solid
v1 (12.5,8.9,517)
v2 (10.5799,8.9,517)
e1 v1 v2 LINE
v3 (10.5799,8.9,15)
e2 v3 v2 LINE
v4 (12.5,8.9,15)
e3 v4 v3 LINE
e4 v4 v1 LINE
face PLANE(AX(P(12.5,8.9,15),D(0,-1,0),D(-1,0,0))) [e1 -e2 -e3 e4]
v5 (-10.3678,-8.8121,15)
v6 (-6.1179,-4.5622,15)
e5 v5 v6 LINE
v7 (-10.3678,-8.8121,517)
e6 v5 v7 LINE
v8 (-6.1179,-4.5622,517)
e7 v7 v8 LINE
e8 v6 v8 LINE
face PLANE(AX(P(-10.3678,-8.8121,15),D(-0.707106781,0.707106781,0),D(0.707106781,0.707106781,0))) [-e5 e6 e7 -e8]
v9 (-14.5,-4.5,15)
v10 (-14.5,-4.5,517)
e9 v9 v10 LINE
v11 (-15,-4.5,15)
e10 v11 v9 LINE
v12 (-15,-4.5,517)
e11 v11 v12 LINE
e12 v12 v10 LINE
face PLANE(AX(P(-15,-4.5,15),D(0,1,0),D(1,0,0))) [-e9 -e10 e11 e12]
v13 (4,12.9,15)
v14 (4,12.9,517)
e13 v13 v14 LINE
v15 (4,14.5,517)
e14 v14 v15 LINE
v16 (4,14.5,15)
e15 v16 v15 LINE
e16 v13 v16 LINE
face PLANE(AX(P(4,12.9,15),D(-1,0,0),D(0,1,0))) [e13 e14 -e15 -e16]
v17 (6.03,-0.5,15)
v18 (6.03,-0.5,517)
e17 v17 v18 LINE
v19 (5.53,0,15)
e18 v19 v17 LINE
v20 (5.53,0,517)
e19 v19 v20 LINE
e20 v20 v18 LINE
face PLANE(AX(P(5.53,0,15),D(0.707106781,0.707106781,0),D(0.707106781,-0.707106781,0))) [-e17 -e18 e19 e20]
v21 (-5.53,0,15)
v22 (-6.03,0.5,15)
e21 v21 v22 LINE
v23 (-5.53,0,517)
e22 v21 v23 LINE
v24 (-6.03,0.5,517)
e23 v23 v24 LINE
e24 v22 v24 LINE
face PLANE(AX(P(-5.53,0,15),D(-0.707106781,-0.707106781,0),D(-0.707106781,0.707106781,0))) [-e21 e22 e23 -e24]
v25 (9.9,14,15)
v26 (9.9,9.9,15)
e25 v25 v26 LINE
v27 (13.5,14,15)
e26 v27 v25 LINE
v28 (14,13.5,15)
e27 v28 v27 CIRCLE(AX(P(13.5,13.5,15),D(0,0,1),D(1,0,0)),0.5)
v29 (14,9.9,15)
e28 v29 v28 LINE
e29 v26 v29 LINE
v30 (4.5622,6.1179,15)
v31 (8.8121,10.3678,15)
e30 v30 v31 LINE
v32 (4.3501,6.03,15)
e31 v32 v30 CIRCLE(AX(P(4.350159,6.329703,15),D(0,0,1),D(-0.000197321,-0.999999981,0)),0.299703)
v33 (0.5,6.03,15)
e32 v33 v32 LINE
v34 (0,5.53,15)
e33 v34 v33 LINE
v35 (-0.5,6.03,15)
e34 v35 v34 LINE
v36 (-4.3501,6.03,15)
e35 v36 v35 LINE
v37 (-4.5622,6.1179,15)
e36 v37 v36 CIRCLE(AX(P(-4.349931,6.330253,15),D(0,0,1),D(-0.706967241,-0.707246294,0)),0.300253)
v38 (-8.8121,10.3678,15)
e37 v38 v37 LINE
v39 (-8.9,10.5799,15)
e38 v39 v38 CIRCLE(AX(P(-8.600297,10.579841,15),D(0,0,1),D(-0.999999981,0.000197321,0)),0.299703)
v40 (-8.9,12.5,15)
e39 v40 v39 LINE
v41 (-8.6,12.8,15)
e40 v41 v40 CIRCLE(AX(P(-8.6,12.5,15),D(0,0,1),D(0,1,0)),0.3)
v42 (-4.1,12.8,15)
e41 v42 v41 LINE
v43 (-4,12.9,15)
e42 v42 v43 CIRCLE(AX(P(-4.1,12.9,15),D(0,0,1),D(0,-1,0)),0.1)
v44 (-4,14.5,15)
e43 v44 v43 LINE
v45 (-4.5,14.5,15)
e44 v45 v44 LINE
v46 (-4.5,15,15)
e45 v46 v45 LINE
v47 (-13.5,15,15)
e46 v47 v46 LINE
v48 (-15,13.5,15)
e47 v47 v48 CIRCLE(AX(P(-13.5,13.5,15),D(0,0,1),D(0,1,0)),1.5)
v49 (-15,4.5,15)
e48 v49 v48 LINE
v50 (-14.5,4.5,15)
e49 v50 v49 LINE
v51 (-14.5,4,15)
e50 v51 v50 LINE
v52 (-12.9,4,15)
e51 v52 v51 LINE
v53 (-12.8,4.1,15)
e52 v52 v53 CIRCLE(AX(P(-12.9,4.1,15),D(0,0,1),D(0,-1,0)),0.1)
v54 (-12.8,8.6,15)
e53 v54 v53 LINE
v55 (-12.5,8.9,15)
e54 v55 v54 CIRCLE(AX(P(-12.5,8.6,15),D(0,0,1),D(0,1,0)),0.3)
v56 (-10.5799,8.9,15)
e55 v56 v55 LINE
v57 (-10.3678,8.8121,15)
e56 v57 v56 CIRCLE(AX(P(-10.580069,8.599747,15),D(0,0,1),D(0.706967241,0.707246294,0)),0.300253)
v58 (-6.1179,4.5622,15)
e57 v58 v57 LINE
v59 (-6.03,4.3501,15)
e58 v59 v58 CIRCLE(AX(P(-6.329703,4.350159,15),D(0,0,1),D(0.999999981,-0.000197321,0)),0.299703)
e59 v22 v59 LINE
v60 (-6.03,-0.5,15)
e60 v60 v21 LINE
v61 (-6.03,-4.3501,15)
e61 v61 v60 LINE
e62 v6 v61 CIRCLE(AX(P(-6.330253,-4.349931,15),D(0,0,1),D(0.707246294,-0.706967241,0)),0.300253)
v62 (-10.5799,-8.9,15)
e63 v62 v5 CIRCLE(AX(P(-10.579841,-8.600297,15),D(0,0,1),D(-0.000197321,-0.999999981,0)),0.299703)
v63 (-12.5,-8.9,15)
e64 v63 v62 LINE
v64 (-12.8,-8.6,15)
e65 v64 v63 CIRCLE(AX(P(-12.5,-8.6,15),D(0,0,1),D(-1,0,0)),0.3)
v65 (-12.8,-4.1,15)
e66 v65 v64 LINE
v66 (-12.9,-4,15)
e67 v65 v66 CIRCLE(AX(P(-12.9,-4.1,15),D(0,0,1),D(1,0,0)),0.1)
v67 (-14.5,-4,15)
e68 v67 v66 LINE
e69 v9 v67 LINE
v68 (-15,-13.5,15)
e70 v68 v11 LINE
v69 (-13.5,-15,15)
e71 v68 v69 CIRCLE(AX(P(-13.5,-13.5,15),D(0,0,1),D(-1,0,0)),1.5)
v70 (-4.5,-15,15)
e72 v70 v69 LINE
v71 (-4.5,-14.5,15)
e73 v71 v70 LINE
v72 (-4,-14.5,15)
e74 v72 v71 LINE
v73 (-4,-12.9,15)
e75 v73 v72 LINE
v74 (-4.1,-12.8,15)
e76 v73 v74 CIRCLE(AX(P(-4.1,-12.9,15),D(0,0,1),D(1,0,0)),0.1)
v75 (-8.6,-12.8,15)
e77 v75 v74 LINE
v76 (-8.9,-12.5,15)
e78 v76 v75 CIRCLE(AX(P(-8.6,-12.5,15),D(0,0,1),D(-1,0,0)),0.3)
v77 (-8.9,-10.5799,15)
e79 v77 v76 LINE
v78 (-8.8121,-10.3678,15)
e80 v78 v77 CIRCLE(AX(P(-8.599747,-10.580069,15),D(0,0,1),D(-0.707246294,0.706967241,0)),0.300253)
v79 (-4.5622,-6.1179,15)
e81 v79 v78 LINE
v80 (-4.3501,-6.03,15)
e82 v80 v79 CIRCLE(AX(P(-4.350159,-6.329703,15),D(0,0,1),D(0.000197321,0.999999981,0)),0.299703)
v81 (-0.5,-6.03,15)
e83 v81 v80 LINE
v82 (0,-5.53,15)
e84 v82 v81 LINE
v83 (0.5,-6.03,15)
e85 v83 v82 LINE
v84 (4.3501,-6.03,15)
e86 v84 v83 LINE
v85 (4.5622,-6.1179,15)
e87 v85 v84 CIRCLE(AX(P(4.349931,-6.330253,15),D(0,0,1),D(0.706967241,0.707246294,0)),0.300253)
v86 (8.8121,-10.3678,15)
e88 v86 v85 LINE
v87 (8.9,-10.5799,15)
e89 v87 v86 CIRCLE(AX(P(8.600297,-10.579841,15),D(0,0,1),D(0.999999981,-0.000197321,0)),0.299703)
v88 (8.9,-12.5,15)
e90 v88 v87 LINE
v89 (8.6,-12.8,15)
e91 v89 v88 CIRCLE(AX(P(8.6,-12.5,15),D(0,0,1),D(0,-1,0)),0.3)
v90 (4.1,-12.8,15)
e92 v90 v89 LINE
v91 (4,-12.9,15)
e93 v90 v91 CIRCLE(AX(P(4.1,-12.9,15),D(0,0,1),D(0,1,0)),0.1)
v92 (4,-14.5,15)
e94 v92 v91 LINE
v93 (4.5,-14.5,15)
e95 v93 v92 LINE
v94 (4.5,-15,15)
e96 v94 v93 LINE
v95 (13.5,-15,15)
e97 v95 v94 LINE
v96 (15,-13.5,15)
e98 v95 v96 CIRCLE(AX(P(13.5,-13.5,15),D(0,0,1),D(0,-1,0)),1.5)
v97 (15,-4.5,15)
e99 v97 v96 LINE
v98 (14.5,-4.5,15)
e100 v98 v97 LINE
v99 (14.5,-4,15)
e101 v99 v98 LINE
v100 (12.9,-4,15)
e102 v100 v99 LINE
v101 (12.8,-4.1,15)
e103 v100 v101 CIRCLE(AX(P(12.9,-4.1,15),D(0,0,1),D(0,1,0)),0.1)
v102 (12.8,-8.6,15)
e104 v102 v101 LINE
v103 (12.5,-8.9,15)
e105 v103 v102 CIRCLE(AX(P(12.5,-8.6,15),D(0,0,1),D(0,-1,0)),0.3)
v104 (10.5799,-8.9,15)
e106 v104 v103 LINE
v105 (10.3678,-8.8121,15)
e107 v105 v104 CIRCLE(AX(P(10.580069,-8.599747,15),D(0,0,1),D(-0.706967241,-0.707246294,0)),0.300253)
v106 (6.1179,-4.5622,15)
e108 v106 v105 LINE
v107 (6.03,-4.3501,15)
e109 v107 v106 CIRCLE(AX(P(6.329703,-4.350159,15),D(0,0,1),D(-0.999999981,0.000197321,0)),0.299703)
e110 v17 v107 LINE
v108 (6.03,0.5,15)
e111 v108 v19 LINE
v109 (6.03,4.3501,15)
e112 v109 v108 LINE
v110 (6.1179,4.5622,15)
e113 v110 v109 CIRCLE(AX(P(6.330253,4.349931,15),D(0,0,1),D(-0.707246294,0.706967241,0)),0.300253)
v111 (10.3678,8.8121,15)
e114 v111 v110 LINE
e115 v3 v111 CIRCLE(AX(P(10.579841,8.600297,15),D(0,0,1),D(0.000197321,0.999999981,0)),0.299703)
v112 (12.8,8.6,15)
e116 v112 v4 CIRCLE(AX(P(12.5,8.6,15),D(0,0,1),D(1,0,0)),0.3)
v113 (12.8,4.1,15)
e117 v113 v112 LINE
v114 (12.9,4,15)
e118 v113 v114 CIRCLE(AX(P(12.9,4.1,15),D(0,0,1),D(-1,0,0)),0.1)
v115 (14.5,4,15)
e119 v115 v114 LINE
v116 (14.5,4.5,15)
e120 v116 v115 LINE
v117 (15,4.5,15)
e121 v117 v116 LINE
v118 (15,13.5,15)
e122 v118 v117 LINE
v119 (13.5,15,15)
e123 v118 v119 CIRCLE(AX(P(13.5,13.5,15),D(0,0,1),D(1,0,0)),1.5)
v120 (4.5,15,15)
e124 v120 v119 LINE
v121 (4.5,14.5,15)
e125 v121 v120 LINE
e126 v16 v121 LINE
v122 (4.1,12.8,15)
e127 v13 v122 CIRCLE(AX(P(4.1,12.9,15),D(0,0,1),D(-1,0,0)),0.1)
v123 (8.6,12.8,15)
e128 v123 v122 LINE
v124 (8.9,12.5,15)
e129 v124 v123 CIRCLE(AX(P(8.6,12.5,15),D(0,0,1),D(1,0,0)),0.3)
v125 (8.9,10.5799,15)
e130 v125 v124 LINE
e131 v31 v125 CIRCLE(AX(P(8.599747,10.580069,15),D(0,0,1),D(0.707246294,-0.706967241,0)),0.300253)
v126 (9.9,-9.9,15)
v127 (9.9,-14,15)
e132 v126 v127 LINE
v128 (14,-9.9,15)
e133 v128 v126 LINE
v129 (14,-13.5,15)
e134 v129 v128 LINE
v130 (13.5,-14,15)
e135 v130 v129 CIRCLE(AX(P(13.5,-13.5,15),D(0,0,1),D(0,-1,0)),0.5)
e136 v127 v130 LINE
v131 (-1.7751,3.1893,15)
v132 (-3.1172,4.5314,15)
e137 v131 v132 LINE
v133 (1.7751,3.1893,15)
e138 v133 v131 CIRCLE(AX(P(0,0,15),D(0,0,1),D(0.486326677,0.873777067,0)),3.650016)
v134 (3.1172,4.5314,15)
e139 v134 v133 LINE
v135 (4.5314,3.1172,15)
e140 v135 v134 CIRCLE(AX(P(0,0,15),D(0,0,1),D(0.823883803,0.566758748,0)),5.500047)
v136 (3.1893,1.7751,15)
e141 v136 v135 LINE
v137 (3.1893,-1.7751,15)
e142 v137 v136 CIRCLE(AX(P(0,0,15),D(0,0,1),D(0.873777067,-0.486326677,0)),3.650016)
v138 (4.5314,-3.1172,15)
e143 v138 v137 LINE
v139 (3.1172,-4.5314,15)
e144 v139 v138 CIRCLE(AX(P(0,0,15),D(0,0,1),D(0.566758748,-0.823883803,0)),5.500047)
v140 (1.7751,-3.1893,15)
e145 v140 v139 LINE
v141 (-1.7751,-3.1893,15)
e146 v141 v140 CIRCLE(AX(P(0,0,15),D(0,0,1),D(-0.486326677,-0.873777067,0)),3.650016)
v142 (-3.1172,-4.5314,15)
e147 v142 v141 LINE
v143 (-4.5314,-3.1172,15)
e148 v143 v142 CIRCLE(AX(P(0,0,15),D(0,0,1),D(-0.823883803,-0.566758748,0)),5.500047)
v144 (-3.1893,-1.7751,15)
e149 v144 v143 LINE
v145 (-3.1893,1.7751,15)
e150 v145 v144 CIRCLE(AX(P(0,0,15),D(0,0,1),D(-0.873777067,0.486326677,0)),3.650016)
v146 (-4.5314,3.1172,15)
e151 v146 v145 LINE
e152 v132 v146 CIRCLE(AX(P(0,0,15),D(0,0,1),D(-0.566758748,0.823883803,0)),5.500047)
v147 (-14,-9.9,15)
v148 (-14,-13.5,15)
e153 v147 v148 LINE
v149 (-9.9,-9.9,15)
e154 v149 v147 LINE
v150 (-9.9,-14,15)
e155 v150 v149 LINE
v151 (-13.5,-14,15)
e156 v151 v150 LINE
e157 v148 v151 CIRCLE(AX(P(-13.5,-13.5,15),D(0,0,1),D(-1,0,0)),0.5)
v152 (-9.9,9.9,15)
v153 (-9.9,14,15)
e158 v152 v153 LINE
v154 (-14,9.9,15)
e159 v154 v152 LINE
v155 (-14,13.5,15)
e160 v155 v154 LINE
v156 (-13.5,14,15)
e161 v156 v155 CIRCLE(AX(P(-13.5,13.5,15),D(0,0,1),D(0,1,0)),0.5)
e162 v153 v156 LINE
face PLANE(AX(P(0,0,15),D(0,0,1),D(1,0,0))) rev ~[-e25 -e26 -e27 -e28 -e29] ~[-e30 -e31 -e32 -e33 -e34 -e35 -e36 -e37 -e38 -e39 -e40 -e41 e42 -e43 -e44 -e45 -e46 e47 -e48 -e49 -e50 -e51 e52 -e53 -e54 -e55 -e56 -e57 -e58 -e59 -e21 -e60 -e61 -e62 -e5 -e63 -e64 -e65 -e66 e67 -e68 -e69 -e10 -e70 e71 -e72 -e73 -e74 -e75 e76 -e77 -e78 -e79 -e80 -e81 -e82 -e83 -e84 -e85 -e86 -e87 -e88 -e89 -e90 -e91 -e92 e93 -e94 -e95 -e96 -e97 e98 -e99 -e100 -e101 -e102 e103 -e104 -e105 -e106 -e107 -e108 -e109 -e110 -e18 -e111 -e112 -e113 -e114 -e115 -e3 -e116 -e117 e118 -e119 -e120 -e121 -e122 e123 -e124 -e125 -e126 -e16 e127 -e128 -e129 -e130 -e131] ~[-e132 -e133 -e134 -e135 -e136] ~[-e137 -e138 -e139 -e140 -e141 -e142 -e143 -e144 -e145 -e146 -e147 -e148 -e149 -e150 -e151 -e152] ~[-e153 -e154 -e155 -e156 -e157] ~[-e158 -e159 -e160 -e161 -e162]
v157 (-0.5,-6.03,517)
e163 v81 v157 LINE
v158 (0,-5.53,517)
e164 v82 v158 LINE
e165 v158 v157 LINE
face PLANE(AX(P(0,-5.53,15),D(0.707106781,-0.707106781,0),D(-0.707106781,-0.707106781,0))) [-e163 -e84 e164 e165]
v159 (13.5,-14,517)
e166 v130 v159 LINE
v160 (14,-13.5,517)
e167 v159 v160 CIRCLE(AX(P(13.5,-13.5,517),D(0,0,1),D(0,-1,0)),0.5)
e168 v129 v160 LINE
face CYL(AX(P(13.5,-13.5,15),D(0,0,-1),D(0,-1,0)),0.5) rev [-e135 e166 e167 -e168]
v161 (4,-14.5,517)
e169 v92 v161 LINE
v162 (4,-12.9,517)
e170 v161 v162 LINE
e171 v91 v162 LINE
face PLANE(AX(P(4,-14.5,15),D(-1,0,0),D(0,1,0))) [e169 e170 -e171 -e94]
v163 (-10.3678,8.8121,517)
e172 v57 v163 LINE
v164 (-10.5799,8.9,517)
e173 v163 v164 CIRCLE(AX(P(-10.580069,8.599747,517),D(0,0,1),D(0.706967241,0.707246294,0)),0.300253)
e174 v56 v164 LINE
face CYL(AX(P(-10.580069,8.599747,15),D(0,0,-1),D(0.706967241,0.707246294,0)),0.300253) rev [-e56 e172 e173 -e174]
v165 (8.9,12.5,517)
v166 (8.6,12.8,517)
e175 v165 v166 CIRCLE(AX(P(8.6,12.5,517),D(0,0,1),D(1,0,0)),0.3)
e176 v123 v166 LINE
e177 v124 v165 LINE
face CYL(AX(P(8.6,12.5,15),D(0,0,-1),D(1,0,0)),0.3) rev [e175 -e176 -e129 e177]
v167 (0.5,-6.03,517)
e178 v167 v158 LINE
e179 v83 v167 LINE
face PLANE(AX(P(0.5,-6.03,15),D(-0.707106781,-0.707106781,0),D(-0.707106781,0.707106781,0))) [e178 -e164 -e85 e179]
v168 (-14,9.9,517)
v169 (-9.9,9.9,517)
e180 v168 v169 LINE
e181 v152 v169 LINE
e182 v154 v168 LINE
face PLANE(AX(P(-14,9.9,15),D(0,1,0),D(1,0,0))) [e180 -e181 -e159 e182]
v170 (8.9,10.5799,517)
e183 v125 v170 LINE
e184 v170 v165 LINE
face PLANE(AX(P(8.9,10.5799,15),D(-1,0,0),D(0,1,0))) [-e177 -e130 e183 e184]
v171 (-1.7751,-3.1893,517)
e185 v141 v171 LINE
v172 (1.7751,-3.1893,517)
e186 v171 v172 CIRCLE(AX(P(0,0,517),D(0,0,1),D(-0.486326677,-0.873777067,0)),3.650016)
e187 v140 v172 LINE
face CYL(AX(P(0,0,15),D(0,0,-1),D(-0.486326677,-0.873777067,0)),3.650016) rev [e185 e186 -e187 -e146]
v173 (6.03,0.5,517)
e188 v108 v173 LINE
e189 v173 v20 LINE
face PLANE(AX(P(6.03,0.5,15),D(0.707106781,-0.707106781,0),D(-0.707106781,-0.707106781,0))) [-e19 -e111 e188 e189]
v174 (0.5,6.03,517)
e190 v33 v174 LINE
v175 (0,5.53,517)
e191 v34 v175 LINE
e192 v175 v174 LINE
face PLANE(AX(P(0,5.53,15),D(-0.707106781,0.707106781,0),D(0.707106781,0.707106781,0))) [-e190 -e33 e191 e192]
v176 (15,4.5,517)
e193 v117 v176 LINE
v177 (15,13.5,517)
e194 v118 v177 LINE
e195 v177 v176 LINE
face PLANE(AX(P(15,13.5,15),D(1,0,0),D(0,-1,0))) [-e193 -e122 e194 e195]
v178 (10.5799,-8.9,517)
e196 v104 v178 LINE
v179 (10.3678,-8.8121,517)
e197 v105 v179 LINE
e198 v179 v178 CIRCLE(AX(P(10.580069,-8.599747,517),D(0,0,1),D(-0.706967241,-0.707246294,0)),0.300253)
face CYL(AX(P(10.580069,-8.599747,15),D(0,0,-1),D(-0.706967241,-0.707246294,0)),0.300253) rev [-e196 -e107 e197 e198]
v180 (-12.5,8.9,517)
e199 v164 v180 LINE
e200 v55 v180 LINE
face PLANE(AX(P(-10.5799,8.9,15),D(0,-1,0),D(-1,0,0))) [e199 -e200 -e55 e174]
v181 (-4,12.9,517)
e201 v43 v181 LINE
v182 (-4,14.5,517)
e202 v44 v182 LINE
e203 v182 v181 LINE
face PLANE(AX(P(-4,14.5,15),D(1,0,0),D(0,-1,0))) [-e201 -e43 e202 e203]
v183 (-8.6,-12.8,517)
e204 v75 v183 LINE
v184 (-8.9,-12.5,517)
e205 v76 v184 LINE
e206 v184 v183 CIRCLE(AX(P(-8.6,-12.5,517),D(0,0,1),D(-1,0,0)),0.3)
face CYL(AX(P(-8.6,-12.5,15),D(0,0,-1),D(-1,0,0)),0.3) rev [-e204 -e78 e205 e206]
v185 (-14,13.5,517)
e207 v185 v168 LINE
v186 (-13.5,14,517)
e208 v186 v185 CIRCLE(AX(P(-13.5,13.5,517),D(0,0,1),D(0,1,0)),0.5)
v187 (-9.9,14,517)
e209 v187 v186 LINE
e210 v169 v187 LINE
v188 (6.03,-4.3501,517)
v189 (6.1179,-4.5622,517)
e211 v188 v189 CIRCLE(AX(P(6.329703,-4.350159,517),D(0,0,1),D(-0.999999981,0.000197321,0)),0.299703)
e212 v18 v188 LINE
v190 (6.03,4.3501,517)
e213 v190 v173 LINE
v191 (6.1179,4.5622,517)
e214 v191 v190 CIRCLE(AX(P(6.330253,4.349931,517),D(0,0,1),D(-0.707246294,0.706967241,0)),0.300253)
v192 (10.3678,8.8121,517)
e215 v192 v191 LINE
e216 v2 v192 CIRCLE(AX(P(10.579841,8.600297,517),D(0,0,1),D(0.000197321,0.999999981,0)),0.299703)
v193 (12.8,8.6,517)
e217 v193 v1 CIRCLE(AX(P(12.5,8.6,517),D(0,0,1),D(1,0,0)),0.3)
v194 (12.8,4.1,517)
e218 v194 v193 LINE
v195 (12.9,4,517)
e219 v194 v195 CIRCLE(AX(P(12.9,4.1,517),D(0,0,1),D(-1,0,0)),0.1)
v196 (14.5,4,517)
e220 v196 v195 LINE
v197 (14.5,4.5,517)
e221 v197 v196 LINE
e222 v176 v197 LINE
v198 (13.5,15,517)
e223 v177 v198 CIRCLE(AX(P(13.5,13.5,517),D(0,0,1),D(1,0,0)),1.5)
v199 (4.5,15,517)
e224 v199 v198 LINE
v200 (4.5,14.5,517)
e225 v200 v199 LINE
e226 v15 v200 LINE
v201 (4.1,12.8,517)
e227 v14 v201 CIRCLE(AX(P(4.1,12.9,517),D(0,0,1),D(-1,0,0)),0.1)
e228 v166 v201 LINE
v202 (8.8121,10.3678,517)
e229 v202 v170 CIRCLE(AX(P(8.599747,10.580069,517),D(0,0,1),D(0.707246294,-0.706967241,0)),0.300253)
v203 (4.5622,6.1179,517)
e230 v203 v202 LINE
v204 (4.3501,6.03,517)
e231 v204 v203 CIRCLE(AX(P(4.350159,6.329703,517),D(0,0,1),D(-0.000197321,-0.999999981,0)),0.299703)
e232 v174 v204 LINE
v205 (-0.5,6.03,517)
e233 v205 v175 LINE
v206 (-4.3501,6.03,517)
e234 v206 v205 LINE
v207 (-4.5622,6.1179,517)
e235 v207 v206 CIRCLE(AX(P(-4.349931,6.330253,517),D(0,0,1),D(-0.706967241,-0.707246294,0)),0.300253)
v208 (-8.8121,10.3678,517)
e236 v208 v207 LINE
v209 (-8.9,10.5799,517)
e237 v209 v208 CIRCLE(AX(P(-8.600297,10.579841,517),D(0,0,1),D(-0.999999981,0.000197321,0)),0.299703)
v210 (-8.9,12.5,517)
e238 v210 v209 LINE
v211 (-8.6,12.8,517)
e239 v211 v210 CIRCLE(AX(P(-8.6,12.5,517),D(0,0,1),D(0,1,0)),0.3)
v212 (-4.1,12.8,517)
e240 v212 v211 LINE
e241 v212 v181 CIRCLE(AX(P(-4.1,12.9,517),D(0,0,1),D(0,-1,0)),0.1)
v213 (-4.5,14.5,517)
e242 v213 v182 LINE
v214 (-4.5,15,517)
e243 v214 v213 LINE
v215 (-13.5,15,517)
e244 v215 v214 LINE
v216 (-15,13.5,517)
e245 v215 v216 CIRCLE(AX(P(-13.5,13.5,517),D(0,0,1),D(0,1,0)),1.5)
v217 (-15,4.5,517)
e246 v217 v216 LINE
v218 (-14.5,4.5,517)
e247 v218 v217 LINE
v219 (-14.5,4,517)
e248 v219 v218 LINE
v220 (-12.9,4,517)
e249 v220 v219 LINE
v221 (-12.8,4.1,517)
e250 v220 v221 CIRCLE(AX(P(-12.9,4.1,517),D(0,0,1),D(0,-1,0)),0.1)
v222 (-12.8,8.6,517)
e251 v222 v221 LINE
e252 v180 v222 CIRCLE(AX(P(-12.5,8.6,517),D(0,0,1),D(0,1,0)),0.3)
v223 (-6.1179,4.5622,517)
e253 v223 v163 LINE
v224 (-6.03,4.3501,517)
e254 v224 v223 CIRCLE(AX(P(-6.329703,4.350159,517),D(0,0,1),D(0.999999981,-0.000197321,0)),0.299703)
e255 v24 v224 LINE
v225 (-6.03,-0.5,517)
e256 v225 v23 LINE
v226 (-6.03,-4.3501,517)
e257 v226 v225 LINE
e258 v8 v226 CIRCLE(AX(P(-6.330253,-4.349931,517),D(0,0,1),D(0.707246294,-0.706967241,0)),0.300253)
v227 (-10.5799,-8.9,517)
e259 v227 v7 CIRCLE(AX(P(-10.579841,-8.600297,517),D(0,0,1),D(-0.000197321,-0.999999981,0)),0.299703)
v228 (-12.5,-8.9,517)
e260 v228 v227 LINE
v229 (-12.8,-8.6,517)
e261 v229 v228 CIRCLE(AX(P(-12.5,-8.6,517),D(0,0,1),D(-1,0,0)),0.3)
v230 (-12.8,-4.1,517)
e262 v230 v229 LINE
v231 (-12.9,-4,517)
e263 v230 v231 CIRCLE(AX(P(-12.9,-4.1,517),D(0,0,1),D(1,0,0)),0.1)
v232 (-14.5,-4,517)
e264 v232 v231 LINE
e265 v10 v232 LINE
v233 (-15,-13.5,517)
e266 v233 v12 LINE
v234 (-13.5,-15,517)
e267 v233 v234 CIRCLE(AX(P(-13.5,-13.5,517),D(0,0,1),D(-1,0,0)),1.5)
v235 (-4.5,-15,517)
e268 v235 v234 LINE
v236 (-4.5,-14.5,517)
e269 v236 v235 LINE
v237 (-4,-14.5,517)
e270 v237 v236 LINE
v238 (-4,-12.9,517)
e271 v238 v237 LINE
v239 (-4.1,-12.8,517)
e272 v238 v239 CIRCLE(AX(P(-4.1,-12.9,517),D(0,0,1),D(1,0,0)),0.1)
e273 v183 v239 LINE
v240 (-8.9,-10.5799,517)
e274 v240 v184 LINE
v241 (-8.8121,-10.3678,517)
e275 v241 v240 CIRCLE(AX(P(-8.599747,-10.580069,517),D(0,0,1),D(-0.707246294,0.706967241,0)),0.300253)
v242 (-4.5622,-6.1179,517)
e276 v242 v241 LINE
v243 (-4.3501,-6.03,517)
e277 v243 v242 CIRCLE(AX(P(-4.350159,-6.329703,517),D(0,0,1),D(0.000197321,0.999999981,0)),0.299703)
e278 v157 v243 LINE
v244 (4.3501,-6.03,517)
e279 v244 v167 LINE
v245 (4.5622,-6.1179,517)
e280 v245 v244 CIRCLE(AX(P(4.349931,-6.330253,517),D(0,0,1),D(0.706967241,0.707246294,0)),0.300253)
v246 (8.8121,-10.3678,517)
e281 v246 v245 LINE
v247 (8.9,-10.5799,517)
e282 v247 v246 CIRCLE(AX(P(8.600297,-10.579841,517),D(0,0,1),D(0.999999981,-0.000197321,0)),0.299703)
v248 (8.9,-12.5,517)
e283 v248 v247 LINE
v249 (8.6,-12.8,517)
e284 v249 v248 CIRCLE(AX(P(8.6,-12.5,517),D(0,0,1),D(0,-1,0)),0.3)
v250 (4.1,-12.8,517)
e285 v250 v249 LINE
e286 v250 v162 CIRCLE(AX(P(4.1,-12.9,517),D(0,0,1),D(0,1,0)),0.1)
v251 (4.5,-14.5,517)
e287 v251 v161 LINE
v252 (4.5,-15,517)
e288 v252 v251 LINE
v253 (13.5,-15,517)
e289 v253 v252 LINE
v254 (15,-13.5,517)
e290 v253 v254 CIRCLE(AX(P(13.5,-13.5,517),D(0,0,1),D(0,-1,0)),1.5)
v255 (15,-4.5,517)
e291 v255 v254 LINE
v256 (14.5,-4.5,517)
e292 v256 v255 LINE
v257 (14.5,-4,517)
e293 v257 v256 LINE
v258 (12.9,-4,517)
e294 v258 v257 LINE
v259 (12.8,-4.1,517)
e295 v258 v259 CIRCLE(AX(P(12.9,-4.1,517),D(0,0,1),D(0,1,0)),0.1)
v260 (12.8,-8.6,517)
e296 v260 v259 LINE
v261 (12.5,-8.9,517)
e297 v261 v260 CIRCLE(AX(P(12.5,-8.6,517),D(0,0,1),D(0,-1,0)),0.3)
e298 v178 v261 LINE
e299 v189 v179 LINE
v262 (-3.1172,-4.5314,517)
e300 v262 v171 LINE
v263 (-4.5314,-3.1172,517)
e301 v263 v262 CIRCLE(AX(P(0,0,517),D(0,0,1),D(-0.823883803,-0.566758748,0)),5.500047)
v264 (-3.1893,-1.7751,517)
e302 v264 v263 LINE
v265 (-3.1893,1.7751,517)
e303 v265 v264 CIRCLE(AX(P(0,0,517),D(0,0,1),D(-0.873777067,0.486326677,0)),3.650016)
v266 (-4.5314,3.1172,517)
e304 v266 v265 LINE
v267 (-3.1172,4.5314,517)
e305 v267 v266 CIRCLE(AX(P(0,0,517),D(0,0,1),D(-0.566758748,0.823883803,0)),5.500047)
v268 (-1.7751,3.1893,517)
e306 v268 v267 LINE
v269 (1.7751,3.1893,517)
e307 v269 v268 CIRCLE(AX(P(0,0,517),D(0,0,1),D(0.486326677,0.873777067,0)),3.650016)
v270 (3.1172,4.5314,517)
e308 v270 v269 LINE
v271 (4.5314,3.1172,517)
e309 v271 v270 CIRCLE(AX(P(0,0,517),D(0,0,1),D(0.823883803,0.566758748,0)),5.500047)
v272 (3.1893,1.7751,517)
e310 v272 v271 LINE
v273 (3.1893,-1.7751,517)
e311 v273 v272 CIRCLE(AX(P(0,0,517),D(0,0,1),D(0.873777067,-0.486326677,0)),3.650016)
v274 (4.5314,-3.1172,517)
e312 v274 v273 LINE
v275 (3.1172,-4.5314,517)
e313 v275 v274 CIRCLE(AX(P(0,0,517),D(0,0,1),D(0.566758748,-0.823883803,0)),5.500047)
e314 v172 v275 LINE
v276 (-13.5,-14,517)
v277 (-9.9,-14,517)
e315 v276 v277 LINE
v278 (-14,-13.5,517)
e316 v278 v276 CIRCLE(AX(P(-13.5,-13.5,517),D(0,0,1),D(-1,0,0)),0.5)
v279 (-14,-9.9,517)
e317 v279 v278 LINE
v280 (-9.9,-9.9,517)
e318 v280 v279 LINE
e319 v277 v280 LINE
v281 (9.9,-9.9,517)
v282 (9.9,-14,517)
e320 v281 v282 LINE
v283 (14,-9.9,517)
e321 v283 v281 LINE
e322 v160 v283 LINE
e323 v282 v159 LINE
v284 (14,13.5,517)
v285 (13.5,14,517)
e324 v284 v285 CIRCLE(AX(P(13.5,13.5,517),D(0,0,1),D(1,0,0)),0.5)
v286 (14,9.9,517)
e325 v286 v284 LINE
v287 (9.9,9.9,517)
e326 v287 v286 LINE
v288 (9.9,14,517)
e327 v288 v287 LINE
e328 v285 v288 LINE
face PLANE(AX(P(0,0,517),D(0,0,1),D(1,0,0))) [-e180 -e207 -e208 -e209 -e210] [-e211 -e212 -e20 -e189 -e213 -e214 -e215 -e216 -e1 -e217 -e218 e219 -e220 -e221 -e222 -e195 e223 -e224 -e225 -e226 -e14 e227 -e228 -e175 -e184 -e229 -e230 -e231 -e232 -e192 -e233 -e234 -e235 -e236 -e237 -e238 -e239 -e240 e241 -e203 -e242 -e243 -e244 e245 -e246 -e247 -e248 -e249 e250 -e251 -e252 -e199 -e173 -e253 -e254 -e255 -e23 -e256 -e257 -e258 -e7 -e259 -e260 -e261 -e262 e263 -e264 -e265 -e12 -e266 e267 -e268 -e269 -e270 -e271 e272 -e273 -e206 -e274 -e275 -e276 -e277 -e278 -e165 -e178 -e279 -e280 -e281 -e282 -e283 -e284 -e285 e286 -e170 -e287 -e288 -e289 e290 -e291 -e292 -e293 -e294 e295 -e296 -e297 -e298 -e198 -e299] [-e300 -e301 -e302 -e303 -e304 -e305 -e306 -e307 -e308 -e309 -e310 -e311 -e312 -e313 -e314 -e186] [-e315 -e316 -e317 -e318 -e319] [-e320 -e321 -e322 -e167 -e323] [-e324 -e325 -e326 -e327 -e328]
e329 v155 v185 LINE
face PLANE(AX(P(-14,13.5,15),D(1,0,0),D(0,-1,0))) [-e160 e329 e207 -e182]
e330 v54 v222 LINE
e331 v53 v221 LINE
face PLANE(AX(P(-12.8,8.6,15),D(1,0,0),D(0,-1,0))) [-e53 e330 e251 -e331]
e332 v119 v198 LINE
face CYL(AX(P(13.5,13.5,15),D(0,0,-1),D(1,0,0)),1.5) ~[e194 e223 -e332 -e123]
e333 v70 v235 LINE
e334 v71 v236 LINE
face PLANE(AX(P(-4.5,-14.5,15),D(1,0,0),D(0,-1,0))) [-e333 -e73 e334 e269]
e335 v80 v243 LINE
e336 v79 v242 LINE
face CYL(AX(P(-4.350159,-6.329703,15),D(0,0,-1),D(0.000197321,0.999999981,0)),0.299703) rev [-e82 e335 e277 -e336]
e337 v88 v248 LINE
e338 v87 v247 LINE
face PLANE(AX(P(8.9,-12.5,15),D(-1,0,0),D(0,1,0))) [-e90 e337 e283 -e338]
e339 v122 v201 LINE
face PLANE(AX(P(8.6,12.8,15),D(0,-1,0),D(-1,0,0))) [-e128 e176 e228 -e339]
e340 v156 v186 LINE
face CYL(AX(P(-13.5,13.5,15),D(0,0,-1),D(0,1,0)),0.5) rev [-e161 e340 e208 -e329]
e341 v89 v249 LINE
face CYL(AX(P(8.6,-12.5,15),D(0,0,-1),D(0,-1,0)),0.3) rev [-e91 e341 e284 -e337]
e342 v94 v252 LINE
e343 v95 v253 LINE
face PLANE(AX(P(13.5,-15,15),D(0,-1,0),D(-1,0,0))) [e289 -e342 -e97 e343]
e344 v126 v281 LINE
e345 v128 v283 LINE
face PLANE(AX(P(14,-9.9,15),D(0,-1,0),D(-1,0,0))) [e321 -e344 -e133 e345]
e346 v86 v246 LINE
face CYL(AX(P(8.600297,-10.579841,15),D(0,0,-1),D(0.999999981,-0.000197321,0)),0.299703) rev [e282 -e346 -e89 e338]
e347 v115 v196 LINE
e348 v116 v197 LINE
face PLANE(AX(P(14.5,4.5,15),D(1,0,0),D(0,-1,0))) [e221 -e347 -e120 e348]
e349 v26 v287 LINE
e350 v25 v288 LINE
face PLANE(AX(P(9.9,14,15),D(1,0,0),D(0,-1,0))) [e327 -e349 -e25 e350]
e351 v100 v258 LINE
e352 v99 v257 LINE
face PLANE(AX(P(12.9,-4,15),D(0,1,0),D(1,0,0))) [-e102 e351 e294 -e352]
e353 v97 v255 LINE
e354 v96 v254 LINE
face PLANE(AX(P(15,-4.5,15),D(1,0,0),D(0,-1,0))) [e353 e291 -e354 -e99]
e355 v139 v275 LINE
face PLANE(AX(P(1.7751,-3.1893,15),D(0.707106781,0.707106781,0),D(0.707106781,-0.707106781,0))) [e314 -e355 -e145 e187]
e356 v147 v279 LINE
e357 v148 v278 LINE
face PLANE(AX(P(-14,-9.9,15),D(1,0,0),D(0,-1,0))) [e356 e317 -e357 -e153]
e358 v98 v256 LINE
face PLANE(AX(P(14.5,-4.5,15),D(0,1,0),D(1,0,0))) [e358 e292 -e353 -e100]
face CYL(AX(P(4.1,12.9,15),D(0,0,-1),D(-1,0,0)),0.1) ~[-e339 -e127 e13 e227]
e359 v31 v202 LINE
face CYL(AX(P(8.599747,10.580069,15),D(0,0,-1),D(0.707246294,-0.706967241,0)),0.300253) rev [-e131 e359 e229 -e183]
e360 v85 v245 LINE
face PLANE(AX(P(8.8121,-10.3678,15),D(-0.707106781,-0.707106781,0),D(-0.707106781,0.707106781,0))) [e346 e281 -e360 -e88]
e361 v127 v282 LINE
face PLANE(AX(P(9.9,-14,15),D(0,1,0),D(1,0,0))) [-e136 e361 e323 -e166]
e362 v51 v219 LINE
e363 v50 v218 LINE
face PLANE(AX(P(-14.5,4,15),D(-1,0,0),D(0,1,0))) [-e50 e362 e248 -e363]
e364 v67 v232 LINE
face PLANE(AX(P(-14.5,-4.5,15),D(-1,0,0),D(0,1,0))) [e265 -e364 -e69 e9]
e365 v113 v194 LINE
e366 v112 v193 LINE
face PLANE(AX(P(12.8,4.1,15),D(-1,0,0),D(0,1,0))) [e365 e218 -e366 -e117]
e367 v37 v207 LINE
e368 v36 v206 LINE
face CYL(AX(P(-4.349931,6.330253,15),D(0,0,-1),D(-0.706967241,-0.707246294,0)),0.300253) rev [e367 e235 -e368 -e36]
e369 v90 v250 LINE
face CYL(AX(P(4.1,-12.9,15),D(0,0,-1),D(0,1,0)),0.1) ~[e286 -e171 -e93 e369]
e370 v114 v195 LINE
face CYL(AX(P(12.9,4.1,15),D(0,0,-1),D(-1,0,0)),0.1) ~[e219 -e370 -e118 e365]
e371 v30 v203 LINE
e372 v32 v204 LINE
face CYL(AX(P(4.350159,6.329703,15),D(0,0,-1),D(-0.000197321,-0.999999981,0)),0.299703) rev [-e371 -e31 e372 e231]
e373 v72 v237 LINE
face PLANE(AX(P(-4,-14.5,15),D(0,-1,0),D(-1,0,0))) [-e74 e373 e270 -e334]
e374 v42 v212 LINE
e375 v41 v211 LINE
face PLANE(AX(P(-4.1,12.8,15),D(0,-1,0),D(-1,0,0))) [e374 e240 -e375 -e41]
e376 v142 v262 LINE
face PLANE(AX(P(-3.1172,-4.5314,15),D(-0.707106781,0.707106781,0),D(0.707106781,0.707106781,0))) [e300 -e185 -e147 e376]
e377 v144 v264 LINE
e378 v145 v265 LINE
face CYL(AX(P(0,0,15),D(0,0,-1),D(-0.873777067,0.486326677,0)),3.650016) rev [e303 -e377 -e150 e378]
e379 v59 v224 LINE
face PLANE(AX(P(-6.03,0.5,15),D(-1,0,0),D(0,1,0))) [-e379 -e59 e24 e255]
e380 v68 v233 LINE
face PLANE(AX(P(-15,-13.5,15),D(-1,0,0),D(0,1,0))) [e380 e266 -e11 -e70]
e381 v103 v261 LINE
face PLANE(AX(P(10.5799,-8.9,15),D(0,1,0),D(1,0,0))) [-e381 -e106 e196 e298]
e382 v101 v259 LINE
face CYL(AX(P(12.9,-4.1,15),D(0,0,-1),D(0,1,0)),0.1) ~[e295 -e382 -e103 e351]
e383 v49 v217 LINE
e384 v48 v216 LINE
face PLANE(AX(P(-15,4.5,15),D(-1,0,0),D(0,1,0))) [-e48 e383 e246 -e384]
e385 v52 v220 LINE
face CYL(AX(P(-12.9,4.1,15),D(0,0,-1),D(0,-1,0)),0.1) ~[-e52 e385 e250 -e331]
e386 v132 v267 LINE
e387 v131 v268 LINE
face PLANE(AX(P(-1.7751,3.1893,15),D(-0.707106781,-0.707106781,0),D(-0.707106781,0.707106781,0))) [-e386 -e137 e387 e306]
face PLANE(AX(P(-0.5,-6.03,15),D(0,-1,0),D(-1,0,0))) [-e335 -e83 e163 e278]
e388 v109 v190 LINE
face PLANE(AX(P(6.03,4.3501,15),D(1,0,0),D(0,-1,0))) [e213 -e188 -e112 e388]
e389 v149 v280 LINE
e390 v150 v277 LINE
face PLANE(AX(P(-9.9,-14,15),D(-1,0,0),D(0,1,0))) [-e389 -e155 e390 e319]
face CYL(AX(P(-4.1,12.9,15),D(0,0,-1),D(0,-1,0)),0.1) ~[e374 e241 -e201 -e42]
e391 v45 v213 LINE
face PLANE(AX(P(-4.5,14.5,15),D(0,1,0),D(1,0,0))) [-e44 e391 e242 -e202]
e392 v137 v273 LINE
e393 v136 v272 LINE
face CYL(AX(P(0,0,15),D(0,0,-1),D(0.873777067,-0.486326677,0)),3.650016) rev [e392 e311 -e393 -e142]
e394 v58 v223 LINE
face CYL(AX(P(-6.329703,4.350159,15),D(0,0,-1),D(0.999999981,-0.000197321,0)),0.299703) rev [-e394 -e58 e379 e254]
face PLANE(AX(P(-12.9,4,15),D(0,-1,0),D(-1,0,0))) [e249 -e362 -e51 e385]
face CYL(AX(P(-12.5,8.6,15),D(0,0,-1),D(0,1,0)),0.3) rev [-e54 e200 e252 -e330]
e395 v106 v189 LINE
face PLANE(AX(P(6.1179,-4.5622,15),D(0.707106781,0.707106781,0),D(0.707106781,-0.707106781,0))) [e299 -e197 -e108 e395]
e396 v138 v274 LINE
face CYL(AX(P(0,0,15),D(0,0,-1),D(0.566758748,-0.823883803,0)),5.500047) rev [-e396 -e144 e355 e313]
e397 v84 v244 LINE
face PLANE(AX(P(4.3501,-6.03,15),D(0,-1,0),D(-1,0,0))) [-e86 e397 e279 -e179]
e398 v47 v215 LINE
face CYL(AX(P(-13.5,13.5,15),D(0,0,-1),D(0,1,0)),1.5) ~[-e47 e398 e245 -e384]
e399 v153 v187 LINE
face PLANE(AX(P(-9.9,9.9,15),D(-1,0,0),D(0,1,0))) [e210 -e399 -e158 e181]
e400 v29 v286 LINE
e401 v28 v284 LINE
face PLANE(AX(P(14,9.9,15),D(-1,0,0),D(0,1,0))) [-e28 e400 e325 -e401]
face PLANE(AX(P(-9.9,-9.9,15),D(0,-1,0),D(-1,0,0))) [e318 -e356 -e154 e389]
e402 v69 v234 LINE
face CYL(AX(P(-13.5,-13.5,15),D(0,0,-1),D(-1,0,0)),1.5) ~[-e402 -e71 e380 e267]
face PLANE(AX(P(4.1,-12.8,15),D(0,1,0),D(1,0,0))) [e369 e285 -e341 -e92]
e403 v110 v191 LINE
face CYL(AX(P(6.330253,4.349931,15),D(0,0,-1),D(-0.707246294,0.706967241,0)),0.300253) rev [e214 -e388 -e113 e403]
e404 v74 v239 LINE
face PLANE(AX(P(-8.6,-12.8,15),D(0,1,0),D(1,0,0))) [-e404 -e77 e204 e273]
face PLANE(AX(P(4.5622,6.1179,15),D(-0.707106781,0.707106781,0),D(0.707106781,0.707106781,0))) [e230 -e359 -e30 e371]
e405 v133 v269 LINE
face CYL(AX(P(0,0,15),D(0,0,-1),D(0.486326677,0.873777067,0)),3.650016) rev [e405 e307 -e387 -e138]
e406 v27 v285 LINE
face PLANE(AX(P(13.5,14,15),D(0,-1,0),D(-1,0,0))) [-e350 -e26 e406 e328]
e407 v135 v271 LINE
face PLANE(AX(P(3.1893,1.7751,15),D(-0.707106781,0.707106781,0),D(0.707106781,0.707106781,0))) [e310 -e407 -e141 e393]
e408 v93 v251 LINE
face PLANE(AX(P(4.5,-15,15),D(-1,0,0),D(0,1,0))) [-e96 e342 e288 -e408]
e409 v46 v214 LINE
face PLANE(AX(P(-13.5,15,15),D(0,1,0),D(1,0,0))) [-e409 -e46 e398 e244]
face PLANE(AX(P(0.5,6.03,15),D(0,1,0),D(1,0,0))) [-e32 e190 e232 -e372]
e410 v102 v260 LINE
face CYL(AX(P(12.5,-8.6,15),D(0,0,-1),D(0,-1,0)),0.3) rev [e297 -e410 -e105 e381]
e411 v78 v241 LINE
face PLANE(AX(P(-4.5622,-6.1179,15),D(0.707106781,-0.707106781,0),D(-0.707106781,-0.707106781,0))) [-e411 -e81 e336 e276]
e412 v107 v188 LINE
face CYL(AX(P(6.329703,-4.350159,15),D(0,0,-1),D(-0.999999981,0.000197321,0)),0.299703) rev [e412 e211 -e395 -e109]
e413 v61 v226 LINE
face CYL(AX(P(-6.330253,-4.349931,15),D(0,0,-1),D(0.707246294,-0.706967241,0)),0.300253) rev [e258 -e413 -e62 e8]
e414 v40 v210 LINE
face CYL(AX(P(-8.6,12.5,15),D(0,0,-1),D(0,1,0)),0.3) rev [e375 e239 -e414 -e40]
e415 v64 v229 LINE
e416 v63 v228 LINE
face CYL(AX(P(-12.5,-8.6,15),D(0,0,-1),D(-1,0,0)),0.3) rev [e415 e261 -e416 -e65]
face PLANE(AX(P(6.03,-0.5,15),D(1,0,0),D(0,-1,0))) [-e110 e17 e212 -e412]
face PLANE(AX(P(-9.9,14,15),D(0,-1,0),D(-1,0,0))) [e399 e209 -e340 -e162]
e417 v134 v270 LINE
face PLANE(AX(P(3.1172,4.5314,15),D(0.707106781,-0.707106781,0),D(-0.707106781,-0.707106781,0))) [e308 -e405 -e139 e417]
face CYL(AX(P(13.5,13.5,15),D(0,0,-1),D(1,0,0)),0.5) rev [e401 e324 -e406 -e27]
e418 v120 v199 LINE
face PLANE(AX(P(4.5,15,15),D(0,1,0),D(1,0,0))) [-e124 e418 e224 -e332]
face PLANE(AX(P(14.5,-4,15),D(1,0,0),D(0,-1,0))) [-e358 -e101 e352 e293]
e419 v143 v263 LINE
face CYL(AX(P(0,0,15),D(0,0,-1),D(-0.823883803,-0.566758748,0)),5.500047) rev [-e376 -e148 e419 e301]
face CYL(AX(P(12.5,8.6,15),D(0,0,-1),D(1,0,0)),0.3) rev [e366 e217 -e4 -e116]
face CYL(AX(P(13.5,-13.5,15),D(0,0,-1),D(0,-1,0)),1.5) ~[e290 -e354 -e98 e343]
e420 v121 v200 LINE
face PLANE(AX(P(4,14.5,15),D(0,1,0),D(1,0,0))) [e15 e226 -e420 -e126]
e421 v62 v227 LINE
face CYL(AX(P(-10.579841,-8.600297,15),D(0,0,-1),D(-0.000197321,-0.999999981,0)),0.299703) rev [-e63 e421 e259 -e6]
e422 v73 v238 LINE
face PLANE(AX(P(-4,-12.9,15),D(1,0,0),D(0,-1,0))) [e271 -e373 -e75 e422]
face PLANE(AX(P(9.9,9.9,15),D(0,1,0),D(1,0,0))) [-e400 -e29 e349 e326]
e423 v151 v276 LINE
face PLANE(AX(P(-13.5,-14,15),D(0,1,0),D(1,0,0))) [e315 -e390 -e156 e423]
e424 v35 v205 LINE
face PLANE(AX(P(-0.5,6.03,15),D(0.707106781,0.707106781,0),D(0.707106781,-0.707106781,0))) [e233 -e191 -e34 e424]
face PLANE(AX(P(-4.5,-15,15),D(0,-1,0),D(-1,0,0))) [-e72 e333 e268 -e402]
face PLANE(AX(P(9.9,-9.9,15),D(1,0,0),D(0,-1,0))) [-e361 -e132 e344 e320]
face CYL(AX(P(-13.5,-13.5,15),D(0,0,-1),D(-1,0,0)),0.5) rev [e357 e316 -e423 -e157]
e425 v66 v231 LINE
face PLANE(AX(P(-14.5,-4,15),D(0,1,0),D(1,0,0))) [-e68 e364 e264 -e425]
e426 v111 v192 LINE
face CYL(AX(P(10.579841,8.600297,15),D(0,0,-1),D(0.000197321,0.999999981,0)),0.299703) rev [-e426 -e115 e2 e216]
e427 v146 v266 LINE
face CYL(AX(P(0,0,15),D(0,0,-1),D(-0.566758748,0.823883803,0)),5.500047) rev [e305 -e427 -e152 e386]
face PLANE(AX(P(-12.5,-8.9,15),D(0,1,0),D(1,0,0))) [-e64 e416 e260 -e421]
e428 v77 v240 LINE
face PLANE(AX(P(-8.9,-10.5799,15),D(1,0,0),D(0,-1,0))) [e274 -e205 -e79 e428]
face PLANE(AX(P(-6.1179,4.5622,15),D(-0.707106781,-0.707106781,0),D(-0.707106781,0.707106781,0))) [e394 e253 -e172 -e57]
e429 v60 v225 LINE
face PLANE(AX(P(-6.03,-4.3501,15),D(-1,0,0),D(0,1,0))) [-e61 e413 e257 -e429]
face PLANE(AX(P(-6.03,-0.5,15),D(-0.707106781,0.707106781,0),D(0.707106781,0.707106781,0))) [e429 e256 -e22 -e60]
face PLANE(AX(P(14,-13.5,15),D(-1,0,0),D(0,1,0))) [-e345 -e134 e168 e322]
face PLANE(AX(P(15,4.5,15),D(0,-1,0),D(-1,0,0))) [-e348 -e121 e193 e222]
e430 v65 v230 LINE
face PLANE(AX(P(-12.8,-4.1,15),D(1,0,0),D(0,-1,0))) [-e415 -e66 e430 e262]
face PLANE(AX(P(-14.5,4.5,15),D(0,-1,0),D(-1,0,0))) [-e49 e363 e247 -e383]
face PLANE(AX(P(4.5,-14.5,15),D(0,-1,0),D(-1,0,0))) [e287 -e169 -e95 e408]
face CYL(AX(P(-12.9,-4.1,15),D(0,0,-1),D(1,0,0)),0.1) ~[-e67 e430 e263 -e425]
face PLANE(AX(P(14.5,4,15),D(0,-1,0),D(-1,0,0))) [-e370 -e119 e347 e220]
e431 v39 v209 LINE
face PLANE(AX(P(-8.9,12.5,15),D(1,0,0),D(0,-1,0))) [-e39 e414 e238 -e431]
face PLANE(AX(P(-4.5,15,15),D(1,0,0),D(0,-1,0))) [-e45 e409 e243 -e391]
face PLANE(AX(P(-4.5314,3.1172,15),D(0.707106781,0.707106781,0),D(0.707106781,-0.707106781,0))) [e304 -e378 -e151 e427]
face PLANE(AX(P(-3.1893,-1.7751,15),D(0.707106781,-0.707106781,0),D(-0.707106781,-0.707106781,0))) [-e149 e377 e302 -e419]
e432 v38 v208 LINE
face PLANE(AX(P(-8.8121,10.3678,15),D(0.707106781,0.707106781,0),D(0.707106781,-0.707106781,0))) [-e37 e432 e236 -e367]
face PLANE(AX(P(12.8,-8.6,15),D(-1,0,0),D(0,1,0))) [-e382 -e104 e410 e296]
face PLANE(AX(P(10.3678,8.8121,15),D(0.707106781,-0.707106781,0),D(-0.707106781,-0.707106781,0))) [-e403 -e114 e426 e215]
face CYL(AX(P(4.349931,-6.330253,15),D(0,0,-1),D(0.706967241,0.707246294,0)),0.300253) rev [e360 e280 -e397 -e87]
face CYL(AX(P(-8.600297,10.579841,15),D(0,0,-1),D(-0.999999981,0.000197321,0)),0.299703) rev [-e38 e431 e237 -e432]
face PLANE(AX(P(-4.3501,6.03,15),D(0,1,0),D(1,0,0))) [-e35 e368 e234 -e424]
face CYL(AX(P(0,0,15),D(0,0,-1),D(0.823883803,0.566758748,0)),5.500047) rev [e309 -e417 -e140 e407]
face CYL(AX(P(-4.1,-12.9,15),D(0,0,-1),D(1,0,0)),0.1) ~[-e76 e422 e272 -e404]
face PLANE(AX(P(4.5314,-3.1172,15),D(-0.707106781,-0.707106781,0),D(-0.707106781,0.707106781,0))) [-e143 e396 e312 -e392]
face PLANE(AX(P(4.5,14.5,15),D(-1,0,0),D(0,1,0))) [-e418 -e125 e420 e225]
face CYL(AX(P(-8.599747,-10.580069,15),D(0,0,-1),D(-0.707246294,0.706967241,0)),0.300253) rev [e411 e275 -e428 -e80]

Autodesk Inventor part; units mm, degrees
ref_plane "Płaszczyzna początkowa" through (0, 0, 15) normal (0, 0, 1) x (1, 0, 0)
ref_plane "Płaszczyzna końcowa" through (0, 0, 517) normal (0, 0, 1) x (1, 0, 0)
sketch "Szkic" plane through (0, 0, 0) normal (0, 0, 1) x (1, 0, 0)
  line L0 (1.7751, -3.1893) -> (3.1172, -4.5314)
  arc A0 (-1.7751, -3.1893) -> (1.7751, -3.1893) centre (0, 0) ccw
  line L1 (-3.1172, -4.5314) -> (-1.7751, -3.1893)
  arc A1 (-4.5314, -3.1172) -> (-3.1172, -4.5314) centre (0, 0) ccw
  line L2 (-3.1893, -1.7751) -> (-4.5314, -3.1172)
  arc A2 (-3.1893, 1.7751) -> (-3.1893, -1.7751) centre (0, 0) ccw
  line L3 (-4.5314, 3.1172) -> (-3.1893, 1.7751)
  arc A3 (-3.1172, 4.5314) -> (-4.5314, 3.1172) centre (0, 0) ccw
  line L4 (-1.7751, 3.1893) -> (-3.1172, 4.5314)
  arc A4 (1.7751, 3.1893) -> (-1.7751, 3.1893) centre (0, 0) ccw
  line L5 (3.1172, 4.5314) -> (1.7751, 3.1893)
  arc A5 (4.5314, 3.1172) -> (3.1172, 4.5314) centre (0, 0) ccw
  line L6 (3.1893, 1.7751) -> (4.5314, 3.1172)
  arc A6 (3.1893, -1.7751) -> (3.1893, 1.7751) centre (0, 0) ccw
  line L7 (4.5314, -3.1172) -> (3.1893, -1.7751)
  arc A7 (3.1172, -4.5314) -> (4.5314, -3.1172) centre (0, 0) ccw
  line L8 (14, -13.5) -> (14, -9.9)
  arc A8 (13.5, -14) -> (14, -13.5) centre (13.5, -13.5) ccw
  line L9 (9.9, -14) -> (13.5, -14)
  line L10 (9.9, -9.9) -> (9.9, -14)
  line L11 (14, -9.9) -> (9.9, -9.9)
  line L12 (-9.9, -9.9) -> (-14, -9.9)
  line L13 (-9.9, -14) -> (-9.9, -9.9)
  line L14 (-13.5, -14) -> (-9.9, -14)
  arc A9 (-14, -13.5) -> (-13.5, -14) centre (-13.5, -13.5) ccw
  line L15 (-14, -9.9) -> (-14, -13.5)
  line L16 (14, 9.9) -> (14, 13.5)
  line L17 (9.9, 9.9) -> (14, 9.9)
  line L18 (9.9, 14) -> (9.9, 9.9)
  line L19 (13.5, 14) -> (9.9, 14)
  arc A10 (14, 13.5) -> (13.5, 14) centre (13.5, 13.5) ccw
  line L20 (-14, 9.9) -> (-9.9, 9.9)
  line L21 (-14, 13.5) -> (-14, 9.9)
  arc A11 (-13.5, 14) -> (-14, 13.5) centre (-13.5, 13.5) ccw
  line L22 (-9.9, 14) -> (-13.5, 14)
  line L23 (-9.9, 9.9) -> (-9.9, 14)
  line L24 (13.5, -15) -> (4.5, -15)
  arc A12 (13.5, -15) -> (15, -13.5) centre (13.5, -13.5) ccw
  line L25 (15, -4.5) -> (15, -13.5)
  line L26 (14.5, -4.5) -> (15, -4.5)
  line L27 (14.5, -4) -> (14.5, -4.5)
  line L28 (12.9, -4) -> (14.5, -4)
  arc A13 (12.9, -4) -> (12.8, -4.1) centre (12.9, -4.1) ccw
  line L29 (12.8, -8.6) -> (12.8, -4.1)
  arc A14 (12.5, -8.9) -> (12.8, -8.6) centre (12.5, -8.6) ccw
  line L30 (10.5799, -8.9) -> (12.5, -8.9)
  arc A15 (10.3678, -8.8121) -> (10.5799, -8.9) centre (10.5799, -8.6) ccw
  line L31 (6.1179, -4.5622) -> (10.3678, -8.8121)
  arc A16 (6.03, -4.3501) -> (6.1179, -4.5622) centre (6.33, -4.3501) ccw
  line L32 (6.03, -0.5) -> (6.03, -4.3501)
  line L33 (5.53, 0) -> (6.03, -0.5)
  line L34 (6.03, 0.5) -> (5.53, 0)
  line L35 (6.03, 4.3501) -> (6.03, 0.5)
  arc A17 (6.1179, 4.5622) -> (6.03, 4.3501) centre (6.33, 4.3501) ccw
  line L36 (10.3678, 8.8121) -> (6.1179, 4.5622)
  arc A18 (10.5799, 8.9) -> (10.3678, 8.8121) centre (10.5799, 8.6) ccw
  line L37 (12.5, 8.9) -> (10.5799, 8.9)
  arc A19 (12.8, 8.6) -> (12.5, 8.9) centre (12.5, 8.6) ccw
  line L38 (12.8, 4.1) -> (12.8, 8.6)
  arc A20 (12.8, 4.1) -> (12.9, 4) centre (12.9, 4.1) ccw
  line L39 (14.5, 4) -> (12.9, 4)
  line L40 (14.5, 4.5) -> (14.5, 4)
  line L41 (15, 4.5) -> (14.5, 4.5)
  line L42 (15, 13.5) -> (15, 4.5)
  arc A21 (15, 13.5) -> (13.5, 15) centre (13.5, 13.5) ccw
  line L43 (4.5, 15) -> (13.5, 15)
  line L44 (4.5, 14.5) -> (4.5, 15)
  line L45 (4, 14.5) -> (4.5, 14.5)
  line L46 (4, 12.9) -> (4, 14.5)
  arc A22 (4, 12.9) -> (4.1, 12.8) centre (4.1, 12.9) ccw
  line L47 (8.6, 12.8) -> (4.1, 12.8)
  arc A23 (8.9, 12.5) -> (8.6, 12.8) centre (8.6, 12.5) ccw
  line L48 (8.9, 10.5799) -> (8.9, 12.5)
  arc A24 (8.8121, 10.3678) -> (8.9, 10.5799) centre (8.6, 10.5799) ccw
  line L49 (4.5622, 6.1179) -> (8.8121, 10.3678)
  arc A25 (4.3501, 6.03) -> (4.5622, 6.1179) centre (4.3501, 6.33) ccw
  line L50 (0.5, 6.03) -> (4.3501, 6.03)
  line L51 (0, 5.53) -> (0.5, 6.03)
  line L52 (-0.5, 6.03) -> (0, 5.53)
  line L53 (-4.3501, 6.03) -> (-0.5, 6.03)
  arc A26 (-4.5622, 6.1179) -> (-4.3501, 6.03) centre (-4.3501, 6.33) ccw
  line L54 (-8.8121, 10.3678) -> (-4.5622, 6.1179)
  arc A27 (-8.9, 10.5799) -> (-8.8121, 10.3678) centre (-8.6, 10.5799) ccw
  line L55 (-8.9, 12.5) -> (-8.9, 10.5799)
  arc A28 (-8.6, 12.8) -> (-8.9, 12.5) centre (-8.6, 12.5) ccw
  line L56 (-4.1, 12.8) -> (-8.6, 12.8)
  arc A29 (-4.1, 12.8) -> (-4, 12.9) centre (-4.1, 12.9) ccw
  line L57 (-4, 14.5) -> (-4, 12.9)
  line L58 (-4.5, 14.5) -> (-4, 14.5)
  line L59 (-4.5, 15) -> (-4.5, 14.5)
  line L60 (-13.5, 15) -> (-4.5, 15)
  arc A30 (-13.5, 15) -> (-15, 13.5) centre (-13.5, 13.5) ccw
  line L61 (-15, 4.5) -> (-15, 13.5)
  line L62 (-14.5, 4.5) -> (-15, 4.5)
  line L63 (-14.5, 4) -> (-14.5, 4.5)
  line L64 (-12.9, 4) -> (-14.5, 4)
  arc A31 (-12.9, 4) -> (-12.8, 4.1) centre (-12.9, 4.1) ccw
  line L65 (-12.8, 8.6) -> (-12.8, 4.1)
  arc A32 (-12.5, 8.9) -> (-12.8, 8.6) centre (-12.5, 8.6) ccw
  line L66 (-10.5799, 8.9) -> (-12.5, 8.9)
  arc A33 (-10.3678, 8.8121) -> (-10.5799, 8.9) centre (-10.5799, 8.6) ccw
  line L67 (-6.1179, 4.5622) -> (-10.3678, 8.8121)
  arc A34 (-6.03, 4.3501) -> (-6.1179, 4.5622) centre (-6.33, 4.3501) ccw
  line L68 (-6.03, 0.5) -> (-6.03, 4.3501)
  line L69 (-5.53, 0) -> (-6.03, 0.5)
  line L70 (-6.03, -0.5) -> (-5.53, 0)
  line L71 (-6.03, -4.3501) -> (-6.03, -0.5)
  arc A35 (-6.1179, -4.5622) -> (-6.03, -4.3501) centre (-6.33, -4.3501) ccw
  line L72 (-10.3678, -8.8121) -> (-6.1179, -4.5622)
  arc A36 (-10.5799, -8.9) -> (-10.3678, -8.8121) centre (-10.5799, -8.6) ccw
  line L73 (-12.5, -8.9) -> (-10.5799, -8.9)
  arc A37 (-12.8, -8.6) -> (-12.5, -8.9) centre (-12.5, -8.6) ccw
  line L74 (-12.8, -4.1) -> (-12.8, -8.6)
  arc A38 (-12.8, -4.1) -> (-12.9, -4) centre (-12.9, -4.1) ccw
  line L75 (-14.5, -4) -> (-12.9, -4)
  line L76 (-14.5, -4.5) -> (-14.5, -4)
  line L77 (-15, -4.5) -> (-14.5, -4.5)
  line L78 (-15, -13.5) -> (-15, -4.5)
  arc A39 (-15, -13.5) -> (-13.5, -15) centre (-13.5, -13.5) ccw
  line L79 (-4.5, -15) -> (-13.5, -15)
  line L80 (-4.5, -14.5) -> (-4.5, -15)
  line L81 (-4, -14.5) -> (-4.5, -14.5)
  line L82 (-4, -12.9) -> (-4, -14.5)
  arc A40 (-4, -12.9) -> (-4.1, -12.8) centre (-4.1, -12.9) ccw
  line L83 (-8.6, -12.8) -> (-4.1, -12.8)
  arc A41 (-8.9, -12.5) -> (-8.6, -12.8) centre (-8.6, -12.5) ccw
  line L84 (-8.9, -10.5799) -> (-8.9, -12.5)
  arc A42 (-8.8121, -10.3678) -> (-8.9, -10.5799) centre (-8.6, -10.5799) ccw
  line L85 (-4.5622, -6.1179) -> (-8.8121, -10.3678)
  arc A43 (-4.3501, -6.03) -> (-4.5622, -6.1179) centre (-4.3501, -6.33) ccw
  line L86 (-0.5, -6.03) -> (-4.3501, -6.03)
  line L87 (0, -5.53) -> (-0.5, -6.03)
  line L88 (0.5, -6.03) -> (0, -5.53)
  line L89 (4.3501, -6.03) -> (0.5, -6.03)
  arc A44 (4.5622, -6.1179) -> (4.3501, -6.03) centre (4.3501, -6.33) ccw
  line L90 (8.8121, -10.3678) -> (4.5622, -6.1179)
  arc A45 (8.9, -10.5799) -> (8.8121, -10.3678) centre (8.6, -10.5799) ccw
  line L91 (8.9, -12.5) -> (8.9, -10.5799)
  arc A46 (8.6, -12.8) -> (8.9, -12.5) centre (8.6, -12.5) ccw
  line L92 (4.1, -12.8) -> (8.6, -12.8)
  arc A47 (4.1, -12.8) -> (4, -12.9) centre (4.1, -12.9) ccw
  line L93 (4, -14.5) -> (4, -12.9)
  line L94 (4.5, -14.5) -> (4, -14.5)
  line L95 (4.5, -15) -> (4.5, -14.5)
  point P0 (15, -15)
extrude "Bryła" add sketch "Szkic" along normal up to surface (502 mm away) from surface at 15
sketch "Szkic2" plane through (0, 0, 0) normal (0, 0, 1) x (1, 0, 0)
  line L0 (0, 0) -> (10, 0)
ref_plane "Płaszczyzna konstrukcyjna3" through (0, 0, 0) normal (0, -1, 0) x (1, 0, 0)
sketch "Szkic3" plane through (0, 0, 0) normal (0, -1, 0) x (1, 0, 0)
  line L0 (-2, 15) -> (12, 15)
  line L1 (-2, 517) -> (12, 517)
  dimension "d7" = 502
ref_plane "Płaszczyzna konstrukcyjna4" through (-4.5, -565, 517) normal (0, 0, 1) x (1, 0, 0)
split "Podział1" plane through (-4.5, -565, 517) removes the side toward (0, 0, 1)
ref_plane "Płaszczyzna konstrukcyjna5" through (-13.5, -530, 15) normal (0, 0, -1) x (-1, 0, 0)
split "Podział2" plane through (-13.5, -530, 15) removes the side toward (0, 0, -1)
equation "\"G_OFFSET_START\" = -15"
equation "\"G_OFFSET_END\" = -15"
equation "\"d2\" = -G_OFFSET_START"
equation "\"d3\" = Length + G_OFFSET_END"
equation "\"G_L\" = d7"
equation "\"Length\" = 532"
properties part number "COTS_ARMA_AR3703_30x30_Alu_Extr_00000011" material "Aluminium 6061"
